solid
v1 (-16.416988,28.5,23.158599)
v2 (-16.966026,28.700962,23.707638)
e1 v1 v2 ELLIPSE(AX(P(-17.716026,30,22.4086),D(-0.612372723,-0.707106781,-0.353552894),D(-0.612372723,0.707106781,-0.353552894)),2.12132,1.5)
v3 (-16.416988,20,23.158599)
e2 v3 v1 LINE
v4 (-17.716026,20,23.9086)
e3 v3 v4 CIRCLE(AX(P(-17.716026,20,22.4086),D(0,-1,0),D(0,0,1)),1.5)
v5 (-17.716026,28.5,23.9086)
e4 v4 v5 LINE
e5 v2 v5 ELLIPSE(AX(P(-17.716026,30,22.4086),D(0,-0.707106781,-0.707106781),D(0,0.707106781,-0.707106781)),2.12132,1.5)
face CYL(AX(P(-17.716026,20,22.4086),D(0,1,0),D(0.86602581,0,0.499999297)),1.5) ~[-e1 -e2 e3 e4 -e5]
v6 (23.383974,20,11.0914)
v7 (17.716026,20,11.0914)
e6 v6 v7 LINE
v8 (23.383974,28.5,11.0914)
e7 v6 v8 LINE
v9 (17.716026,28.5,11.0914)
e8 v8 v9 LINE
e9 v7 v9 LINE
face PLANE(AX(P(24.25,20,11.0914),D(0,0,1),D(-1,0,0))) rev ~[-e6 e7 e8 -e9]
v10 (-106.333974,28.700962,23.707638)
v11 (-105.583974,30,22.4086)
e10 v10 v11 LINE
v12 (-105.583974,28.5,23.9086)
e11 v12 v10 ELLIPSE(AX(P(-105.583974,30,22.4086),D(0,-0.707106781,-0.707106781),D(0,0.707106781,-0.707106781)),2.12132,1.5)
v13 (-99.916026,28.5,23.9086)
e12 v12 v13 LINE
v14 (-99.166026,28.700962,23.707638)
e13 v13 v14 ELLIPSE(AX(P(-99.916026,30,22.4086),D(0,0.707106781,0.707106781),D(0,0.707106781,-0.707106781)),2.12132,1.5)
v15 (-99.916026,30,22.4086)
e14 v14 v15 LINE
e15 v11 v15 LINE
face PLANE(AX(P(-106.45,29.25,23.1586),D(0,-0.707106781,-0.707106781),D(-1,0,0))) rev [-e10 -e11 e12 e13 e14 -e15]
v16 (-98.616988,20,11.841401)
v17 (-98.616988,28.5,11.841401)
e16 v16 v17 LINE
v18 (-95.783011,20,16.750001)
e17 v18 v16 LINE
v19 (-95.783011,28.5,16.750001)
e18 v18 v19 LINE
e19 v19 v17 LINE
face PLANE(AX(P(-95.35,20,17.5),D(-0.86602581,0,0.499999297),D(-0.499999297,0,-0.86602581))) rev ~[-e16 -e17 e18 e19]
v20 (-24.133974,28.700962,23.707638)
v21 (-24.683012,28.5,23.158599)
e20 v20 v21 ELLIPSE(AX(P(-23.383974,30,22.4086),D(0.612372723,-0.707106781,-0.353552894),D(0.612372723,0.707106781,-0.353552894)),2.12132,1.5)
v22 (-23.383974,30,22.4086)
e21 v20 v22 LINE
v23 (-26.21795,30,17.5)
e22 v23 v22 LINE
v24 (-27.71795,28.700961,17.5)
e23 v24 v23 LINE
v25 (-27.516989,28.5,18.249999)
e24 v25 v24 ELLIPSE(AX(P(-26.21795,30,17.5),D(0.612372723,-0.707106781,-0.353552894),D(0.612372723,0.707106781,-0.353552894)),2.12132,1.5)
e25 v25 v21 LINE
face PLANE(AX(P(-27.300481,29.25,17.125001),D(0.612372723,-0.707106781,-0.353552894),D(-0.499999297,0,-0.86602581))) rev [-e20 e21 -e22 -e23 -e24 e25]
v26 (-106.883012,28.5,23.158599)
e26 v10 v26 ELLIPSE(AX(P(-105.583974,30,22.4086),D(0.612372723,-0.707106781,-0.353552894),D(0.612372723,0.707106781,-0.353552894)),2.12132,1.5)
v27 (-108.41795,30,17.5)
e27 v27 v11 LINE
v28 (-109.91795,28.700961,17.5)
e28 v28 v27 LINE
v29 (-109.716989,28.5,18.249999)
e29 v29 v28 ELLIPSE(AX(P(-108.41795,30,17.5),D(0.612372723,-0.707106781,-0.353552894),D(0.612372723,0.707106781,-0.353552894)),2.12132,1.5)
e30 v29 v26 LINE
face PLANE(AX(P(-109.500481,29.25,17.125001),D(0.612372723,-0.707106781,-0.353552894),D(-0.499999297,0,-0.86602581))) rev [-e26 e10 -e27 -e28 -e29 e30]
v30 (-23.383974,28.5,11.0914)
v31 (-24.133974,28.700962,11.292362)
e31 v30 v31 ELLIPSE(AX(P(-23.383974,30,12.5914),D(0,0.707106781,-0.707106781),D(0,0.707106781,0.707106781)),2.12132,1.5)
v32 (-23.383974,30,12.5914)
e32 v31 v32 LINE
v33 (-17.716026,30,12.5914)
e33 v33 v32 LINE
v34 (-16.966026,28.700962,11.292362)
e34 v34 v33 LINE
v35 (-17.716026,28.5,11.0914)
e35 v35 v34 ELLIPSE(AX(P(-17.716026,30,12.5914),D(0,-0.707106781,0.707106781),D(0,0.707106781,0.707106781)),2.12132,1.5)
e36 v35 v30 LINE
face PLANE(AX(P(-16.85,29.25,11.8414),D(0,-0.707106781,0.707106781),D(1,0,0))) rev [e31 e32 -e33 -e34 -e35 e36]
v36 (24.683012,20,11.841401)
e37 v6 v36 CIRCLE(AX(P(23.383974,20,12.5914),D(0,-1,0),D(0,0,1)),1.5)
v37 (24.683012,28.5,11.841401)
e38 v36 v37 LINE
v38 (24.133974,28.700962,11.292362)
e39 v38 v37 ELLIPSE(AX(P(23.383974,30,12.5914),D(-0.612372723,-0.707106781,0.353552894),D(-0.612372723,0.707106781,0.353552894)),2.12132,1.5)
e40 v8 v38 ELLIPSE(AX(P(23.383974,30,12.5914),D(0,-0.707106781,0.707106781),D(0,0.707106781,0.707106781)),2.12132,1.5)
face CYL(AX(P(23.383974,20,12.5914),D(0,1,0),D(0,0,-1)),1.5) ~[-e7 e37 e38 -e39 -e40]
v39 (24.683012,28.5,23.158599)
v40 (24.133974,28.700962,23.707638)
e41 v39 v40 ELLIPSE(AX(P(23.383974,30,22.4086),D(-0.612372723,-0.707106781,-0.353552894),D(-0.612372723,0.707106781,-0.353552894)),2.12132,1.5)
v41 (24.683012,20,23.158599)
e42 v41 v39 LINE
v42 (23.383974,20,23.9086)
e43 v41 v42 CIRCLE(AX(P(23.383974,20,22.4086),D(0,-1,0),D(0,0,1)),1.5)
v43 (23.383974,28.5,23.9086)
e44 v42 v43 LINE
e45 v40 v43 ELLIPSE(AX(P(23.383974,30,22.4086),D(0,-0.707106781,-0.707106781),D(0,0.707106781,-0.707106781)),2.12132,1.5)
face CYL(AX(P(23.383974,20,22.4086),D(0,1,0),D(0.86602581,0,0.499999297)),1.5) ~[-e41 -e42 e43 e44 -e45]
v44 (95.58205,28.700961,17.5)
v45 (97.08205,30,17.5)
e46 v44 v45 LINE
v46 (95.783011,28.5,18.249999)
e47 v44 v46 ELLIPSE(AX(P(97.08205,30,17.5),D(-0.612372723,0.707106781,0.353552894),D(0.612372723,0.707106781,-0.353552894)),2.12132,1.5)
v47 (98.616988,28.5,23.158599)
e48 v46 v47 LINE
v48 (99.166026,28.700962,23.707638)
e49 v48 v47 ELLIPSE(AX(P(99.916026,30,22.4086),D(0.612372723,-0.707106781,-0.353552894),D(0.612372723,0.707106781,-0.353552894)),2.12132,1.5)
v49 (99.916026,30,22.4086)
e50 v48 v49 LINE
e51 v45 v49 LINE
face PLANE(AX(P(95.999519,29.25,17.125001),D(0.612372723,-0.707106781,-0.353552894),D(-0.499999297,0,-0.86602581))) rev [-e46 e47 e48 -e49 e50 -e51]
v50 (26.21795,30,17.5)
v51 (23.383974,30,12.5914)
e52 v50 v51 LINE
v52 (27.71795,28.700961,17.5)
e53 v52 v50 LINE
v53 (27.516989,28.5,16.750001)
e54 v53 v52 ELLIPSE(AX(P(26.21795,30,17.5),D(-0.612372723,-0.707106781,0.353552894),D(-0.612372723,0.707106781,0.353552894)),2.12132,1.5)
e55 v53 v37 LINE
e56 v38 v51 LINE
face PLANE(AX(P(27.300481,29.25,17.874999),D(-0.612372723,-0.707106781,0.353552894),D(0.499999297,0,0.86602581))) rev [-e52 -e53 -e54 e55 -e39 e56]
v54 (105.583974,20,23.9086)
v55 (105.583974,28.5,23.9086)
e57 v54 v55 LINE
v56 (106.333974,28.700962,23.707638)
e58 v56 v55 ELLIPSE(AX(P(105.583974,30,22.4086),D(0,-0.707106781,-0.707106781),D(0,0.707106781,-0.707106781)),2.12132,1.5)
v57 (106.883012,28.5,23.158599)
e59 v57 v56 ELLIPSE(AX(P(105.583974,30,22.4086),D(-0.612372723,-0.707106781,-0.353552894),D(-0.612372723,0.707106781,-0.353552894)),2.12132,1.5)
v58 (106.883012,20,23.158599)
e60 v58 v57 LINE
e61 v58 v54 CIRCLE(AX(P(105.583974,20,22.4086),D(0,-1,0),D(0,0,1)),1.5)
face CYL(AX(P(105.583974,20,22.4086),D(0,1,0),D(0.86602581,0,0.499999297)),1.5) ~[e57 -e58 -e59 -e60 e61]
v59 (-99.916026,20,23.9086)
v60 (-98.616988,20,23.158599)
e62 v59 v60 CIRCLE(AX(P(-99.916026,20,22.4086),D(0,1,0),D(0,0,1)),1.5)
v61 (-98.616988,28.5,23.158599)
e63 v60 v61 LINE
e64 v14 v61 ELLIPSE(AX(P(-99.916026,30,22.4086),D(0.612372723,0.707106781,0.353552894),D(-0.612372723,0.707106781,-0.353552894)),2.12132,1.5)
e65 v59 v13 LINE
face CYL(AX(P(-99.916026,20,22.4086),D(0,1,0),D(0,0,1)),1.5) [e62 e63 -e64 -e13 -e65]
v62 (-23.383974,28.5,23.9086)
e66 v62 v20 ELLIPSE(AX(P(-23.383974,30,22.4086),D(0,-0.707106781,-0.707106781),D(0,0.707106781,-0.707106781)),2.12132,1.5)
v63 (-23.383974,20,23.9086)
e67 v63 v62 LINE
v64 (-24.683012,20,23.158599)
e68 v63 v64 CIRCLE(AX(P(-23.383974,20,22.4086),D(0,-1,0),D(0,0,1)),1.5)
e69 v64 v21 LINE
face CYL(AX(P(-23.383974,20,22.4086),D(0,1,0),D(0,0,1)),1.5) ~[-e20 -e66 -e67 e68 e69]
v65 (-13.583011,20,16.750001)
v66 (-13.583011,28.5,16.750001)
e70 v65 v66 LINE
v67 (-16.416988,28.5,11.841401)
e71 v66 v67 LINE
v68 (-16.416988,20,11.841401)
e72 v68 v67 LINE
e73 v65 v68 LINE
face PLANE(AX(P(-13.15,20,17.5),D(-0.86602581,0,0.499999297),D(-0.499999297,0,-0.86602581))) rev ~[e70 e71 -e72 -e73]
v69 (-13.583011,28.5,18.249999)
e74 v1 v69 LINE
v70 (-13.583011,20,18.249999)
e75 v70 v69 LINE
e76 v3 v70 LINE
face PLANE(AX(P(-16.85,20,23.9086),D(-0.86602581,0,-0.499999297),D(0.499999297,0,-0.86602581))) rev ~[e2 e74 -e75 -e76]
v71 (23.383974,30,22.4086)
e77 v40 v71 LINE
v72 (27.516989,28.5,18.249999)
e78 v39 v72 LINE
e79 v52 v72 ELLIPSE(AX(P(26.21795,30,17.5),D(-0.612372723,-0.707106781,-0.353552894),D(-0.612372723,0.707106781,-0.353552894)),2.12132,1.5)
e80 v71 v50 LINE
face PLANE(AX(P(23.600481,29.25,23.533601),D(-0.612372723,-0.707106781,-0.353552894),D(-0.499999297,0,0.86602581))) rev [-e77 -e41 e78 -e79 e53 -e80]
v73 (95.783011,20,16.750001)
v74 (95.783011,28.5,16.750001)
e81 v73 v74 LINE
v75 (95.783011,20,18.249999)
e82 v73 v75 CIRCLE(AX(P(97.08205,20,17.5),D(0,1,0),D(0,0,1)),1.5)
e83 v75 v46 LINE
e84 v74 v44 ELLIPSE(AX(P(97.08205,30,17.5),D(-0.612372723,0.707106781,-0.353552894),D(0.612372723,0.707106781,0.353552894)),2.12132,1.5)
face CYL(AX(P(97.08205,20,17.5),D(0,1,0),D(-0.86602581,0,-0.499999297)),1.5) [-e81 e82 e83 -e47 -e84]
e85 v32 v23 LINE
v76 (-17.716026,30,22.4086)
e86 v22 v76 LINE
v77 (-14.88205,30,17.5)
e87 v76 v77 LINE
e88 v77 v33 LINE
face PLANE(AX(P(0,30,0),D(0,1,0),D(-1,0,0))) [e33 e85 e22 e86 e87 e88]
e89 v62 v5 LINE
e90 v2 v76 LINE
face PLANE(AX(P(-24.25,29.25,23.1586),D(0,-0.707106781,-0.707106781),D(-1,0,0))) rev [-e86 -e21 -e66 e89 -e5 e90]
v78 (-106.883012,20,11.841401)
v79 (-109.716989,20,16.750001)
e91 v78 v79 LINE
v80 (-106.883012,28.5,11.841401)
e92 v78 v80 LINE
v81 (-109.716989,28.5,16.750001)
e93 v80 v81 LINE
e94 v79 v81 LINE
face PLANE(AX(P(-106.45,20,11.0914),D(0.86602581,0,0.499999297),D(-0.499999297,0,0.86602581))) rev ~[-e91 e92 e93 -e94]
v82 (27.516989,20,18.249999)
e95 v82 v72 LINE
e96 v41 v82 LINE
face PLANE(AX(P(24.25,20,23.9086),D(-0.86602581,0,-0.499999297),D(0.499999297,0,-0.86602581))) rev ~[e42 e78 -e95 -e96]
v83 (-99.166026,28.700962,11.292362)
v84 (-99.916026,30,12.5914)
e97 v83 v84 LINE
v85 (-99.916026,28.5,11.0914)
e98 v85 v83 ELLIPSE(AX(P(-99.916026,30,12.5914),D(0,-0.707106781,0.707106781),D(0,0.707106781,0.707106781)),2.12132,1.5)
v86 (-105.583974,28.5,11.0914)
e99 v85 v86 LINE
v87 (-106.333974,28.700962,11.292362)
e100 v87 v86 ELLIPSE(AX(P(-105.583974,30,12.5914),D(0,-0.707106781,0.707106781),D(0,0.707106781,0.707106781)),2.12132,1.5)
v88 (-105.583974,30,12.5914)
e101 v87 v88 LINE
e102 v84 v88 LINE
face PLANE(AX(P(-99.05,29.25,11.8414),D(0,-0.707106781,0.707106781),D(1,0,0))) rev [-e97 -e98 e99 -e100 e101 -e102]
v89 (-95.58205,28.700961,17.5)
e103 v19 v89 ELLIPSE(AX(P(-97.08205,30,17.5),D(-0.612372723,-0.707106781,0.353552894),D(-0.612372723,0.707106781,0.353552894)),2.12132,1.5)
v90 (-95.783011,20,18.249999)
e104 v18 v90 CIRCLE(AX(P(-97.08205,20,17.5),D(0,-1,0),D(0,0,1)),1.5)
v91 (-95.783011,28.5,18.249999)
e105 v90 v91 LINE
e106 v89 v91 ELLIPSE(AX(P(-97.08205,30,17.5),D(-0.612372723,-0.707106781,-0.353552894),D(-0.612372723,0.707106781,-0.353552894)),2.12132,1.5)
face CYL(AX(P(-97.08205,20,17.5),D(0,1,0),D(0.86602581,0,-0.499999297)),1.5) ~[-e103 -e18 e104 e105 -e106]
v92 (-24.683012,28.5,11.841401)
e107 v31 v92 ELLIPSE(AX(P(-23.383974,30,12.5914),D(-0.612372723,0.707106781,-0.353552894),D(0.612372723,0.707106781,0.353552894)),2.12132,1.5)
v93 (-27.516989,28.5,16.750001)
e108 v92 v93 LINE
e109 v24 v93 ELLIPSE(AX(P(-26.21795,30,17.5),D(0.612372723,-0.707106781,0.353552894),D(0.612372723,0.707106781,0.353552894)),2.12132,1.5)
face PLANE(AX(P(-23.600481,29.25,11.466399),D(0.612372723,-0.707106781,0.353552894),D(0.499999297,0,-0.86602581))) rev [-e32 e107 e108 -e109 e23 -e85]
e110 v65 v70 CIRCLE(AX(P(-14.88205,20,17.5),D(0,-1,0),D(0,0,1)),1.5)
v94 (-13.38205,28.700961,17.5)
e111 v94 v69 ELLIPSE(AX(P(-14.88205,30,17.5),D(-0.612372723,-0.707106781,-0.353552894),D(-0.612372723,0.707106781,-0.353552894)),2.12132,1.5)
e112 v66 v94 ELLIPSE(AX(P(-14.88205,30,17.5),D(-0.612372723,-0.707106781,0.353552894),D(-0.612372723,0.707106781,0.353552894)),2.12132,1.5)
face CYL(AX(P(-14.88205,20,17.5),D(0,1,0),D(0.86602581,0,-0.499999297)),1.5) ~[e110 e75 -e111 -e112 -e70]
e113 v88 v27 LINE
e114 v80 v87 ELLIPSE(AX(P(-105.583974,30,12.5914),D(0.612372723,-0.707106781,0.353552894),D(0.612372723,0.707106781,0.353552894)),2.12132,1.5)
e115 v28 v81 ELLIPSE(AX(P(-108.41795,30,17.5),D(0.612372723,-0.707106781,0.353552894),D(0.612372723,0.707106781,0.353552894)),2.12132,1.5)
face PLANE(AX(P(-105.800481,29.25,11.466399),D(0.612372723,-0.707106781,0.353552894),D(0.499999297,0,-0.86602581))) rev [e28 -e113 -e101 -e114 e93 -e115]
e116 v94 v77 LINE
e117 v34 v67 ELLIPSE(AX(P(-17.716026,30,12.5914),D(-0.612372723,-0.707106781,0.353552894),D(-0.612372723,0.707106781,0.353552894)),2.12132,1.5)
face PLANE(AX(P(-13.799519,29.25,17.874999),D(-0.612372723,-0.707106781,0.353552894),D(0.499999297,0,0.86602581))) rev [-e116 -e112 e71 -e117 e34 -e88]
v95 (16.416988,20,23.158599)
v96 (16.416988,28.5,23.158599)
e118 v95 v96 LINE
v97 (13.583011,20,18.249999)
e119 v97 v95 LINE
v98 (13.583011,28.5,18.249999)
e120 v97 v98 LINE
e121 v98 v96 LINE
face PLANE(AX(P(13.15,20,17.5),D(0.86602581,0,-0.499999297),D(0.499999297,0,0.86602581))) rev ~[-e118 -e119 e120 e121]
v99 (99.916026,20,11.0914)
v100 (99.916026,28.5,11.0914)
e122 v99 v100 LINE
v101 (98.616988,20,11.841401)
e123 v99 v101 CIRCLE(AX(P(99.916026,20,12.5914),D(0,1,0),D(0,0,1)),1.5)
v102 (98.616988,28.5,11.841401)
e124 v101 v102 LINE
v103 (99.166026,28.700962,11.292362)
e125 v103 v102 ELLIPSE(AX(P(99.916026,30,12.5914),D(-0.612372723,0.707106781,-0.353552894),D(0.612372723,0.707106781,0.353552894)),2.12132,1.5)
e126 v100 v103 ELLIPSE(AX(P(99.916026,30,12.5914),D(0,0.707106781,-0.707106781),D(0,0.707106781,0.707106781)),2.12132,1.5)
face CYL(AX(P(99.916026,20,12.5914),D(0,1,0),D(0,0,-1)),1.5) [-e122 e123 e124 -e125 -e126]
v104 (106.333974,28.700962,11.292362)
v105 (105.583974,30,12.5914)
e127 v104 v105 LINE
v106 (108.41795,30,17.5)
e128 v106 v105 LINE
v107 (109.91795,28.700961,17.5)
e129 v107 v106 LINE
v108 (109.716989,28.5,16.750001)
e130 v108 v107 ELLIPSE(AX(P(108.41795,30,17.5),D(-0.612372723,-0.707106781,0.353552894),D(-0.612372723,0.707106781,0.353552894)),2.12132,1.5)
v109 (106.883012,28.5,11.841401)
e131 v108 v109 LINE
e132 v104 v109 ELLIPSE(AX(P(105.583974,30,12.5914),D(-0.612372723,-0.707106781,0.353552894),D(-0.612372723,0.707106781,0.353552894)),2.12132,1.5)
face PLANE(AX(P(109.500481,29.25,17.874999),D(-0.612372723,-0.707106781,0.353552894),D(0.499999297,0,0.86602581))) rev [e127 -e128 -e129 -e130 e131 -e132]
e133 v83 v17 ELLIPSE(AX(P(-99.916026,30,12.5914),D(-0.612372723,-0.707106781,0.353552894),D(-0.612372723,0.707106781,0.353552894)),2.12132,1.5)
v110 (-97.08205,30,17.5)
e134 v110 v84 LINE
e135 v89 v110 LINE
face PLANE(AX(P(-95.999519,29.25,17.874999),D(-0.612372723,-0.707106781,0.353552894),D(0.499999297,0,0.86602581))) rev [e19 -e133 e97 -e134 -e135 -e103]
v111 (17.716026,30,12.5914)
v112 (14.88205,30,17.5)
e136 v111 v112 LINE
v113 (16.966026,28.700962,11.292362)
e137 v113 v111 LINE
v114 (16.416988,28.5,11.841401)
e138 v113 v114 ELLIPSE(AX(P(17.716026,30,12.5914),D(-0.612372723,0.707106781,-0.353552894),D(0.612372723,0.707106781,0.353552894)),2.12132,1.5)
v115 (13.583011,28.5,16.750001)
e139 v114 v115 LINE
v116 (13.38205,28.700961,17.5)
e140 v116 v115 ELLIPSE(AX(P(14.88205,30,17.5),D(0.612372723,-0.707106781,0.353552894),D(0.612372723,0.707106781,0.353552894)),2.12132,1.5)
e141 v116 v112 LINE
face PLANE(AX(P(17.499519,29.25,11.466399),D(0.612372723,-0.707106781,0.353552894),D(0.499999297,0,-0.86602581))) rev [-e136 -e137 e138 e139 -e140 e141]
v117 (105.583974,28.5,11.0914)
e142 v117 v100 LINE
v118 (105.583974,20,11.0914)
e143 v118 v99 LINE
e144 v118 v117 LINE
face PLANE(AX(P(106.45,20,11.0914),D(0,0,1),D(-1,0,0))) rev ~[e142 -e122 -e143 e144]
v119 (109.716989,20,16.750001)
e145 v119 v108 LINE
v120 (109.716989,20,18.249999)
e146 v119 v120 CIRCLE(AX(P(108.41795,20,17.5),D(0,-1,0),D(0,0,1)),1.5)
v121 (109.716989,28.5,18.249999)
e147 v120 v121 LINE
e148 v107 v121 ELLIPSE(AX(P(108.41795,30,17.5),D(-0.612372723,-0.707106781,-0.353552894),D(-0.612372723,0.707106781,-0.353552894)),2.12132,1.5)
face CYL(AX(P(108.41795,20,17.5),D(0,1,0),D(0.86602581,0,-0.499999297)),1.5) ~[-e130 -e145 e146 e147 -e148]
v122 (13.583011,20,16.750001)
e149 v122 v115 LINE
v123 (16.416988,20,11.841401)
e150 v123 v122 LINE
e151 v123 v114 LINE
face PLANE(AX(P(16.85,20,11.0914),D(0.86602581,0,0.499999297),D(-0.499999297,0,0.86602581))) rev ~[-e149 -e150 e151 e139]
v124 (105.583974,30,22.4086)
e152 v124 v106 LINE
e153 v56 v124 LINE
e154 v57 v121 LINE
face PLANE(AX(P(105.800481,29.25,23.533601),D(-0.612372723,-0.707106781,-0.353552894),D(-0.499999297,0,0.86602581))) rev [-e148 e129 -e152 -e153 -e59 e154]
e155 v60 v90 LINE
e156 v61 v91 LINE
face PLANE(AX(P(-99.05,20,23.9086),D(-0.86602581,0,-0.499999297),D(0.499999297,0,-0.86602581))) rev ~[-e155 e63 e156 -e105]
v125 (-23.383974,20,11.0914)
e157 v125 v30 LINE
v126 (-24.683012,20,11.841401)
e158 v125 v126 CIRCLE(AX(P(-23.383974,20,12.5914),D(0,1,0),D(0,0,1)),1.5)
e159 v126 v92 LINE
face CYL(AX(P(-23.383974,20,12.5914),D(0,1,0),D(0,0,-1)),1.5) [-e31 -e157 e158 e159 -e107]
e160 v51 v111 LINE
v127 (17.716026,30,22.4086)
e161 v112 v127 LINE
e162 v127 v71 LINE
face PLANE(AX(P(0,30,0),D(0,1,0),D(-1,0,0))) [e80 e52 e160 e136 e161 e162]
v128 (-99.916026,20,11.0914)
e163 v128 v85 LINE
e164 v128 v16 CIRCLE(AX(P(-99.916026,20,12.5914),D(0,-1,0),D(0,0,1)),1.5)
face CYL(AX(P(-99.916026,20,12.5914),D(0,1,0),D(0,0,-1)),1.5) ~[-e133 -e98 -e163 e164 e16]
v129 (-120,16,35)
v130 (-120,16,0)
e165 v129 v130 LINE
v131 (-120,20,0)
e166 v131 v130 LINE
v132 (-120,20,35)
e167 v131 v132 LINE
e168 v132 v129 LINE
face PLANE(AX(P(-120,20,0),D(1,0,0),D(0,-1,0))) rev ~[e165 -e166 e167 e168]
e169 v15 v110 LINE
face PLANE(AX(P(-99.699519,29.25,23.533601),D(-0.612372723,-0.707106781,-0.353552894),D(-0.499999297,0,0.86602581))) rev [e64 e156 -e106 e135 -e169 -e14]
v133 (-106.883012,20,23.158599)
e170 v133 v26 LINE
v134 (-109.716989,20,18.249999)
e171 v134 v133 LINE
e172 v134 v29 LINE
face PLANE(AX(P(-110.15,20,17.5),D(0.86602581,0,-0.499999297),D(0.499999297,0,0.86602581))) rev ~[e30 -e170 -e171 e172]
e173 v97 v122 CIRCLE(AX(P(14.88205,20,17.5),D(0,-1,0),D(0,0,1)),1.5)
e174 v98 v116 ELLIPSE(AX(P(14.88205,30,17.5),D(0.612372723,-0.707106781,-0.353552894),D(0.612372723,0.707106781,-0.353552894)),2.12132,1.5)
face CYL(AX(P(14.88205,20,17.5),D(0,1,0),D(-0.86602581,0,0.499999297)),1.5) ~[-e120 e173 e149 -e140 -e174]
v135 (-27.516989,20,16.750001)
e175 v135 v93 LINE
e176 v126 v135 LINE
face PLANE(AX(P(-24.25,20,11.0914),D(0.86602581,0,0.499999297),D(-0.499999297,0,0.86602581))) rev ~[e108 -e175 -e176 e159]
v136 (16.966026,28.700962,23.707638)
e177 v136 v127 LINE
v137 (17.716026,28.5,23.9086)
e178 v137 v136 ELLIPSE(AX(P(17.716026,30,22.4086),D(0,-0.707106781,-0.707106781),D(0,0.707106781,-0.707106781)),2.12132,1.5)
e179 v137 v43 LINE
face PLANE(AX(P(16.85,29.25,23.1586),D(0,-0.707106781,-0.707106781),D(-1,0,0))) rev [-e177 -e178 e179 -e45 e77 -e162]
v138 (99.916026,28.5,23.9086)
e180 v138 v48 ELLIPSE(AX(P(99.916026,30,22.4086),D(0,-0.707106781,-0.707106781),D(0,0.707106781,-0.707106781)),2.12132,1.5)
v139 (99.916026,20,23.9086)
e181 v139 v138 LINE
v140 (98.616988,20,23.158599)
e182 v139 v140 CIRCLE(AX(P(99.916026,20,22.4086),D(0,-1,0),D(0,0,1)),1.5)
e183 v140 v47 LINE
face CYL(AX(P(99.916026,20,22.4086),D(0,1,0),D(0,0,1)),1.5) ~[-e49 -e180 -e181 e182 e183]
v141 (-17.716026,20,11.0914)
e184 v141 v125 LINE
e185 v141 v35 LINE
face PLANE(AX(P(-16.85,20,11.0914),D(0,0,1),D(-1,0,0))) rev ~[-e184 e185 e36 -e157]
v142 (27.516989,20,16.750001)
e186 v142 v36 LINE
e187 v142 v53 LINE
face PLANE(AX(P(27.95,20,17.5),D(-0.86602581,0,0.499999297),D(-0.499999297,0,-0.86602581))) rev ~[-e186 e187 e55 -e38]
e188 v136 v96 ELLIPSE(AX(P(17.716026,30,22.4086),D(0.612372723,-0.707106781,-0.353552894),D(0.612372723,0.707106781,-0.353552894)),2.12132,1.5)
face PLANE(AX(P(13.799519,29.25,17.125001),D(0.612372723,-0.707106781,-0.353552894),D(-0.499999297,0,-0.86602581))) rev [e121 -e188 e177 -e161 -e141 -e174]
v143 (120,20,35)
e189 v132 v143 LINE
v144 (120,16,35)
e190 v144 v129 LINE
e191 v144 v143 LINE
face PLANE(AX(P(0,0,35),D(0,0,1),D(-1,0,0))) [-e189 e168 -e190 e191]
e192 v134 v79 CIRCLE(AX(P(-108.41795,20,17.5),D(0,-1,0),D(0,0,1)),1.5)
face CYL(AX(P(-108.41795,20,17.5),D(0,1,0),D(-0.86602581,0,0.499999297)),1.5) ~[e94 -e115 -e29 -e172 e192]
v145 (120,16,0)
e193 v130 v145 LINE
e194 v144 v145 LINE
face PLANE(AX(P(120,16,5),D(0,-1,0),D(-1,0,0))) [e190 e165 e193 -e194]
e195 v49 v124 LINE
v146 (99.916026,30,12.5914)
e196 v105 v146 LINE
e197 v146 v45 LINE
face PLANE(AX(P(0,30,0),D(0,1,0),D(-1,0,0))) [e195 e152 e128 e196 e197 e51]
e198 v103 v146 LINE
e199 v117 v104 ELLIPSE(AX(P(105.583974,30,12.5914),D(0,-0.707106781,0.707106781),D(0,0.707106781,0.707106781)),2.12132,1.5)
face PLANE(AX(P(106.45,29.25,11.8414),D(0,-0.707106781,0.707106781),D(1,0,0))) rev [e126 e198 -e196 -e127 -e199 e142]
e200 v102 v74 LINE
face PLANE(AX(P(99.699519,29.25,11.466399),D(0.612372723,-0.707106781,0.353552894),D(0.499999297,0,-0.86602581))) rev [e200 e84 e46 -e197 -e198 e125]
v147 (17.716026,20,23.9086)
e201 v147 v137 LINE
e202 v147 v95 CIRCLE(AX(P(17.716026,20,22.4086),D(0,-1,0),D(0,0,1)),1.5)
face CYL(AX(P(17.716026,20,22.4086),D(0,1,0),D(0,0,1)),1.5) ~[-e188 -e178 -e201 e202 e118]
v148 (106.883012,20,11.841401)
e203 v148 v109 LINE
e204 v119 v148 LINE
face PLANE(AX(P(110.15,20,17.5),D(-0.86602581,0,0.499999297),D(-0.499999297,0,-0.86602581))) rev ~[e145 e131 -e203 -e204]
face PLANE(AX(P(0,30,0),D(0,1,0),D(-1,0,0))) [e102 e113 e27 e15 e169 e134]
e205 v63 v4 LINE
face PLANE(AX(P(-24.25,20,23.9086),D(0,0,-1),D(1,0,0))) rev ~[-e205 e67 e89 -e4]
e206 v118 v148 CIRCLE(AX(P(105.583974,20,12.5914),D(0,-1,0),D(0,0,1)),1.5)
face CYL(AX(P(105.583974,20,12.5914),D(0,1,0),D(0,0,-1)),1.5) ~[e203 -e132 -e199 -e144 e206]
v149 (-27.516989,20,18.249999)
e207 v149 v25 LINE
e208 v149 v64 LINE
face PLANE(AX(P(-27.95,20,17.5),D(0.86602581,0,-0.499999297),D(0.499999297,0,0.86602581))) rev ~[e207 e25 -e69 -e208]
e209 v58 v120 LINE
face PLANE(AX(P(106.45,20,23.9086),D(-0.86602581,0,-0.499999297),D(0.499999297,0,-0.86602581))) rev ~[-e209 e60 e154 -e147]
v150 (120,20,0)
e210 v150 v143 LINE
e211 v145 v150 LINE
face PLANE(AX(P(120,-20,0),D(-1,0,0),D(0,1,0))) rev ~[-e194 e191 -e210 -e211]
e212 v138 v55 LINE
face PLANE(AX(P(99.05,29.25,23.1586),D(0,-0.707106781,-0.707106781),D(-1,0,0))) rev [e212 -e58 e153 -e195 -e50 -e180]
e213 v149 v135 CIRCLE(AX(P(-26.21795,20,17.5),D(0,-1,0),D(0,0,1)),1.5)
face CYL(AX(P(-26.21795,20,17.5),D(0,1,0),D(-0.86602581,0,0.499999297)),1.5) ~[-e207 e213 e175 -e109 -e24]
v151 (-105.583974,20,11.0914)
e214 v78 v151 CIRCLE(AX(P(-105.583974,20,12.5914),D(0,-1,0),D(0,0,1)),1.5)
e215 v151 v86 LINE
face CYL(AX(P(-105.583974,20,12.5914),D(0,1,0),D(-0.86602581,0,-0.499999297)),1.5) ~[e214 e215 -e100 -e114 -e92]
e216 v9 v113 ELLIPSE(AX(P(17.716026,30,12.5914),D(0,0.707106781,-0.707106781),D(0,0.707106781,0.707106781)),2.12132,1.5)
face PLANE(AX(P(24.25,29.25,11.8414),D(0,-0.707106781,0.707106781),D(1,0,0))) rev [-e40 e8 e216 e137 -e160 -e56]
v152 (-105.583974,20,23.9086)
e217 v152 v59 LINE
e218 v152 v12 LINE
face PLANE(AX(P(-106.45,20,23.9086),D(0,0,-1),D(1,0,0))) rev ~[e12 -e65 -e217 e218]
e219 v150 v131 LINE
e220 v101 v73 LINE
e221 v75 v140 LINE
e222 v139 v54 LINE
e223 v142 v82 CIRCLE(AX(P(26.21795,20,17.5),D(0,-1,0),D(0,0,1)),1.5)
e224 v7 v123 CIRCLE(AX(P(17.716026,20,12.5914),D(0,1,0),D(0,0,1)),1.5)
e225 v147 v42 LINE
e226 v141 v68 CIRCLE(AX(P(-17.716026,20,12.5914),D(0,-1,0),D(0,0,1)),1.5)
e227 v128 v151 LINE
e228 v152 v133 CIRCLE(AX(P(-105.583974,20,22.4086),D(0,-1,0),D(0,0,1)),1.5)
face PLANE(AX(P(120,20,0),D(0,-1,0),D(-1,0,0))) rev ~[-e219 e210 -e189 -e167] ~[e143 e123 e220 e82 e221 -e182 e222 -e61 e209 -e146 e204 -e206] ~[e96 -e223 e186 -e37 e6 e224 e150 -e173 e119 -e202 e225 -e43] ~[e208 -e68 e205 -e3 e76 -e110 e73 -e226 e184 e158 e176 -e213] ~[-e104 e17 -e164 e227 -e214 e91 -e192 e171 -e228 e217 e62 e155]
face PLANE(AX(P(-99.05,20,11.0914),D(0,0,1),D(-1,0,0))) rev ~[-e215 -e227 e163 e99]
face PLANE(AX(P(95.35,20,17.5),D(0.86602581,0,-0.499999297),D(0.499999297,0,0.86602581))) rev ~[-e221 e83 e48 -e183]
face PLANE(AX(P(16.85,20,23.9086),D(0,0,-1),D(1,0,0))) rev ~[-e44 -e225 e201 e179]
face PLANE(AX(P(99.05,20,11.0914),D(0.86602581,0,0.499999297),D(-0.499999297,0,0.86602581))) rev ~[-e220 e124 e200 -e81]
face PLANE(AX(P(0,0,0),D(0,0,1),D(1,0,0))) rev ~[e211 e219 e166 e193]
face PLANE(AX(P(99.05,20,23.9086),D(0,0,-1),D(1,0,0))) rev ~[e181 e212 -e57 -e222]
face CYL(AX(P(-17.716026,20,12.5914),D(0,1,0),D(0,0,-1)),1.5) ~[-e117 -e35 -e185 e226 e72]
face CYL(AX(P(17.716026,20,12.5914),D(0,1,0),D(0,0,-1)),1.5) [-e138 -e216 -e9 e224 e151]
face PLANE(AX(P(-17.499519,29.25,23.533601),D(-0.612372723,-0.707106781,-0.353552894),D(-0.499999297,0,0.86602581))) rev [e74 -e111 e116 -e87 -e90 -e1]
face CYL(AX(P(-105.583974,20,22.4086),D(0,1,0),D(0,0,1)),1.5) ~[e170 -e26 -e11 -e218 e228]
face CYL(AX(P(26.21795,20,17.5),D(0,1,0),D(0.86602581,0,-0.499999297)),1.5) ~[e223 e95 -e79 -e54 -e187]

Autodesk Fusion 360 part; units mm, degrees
sketch "Sketch1" plane through (0, 0, 0) normal (0, 0, 1) x (1, 0, 0)
  line L0 (120, 20) -> (-120, 20)
  line L1 (-120, 20) -> (-120, -20)
  line L2 (-120, -20) -> (120, -20)
  line L3 (120, -20) -> (120, 20)
  line L4 (120, 20) -> (-120, -20) construction
  line L5 (-120, 20) -> (120, -20) construction
  dimension "d1" = 240
  dimension "d2" = 40
extrude "Extrude1" add sketch "Sketch1" along normal blind 5
sketch "Sketch2" plane through (0, 0, 5) normal (0, 0, 1) x (-1, 0, 0)
  line L0 (-120, 20) -> (-120, -20)
  line L1 (120, -20) -> (120, 20)
  line L2 (120, 20) -> (-120, 20)
  line L3 (120, -20) -> (-120, -20)
  line L4 (-120, -20) -> (-120, -16)
  line L5 (-120, -16) -> (120, -16)
  line L6 (120, -16) -> (120, -20)
  line L7 (-120, -20) -> (120, -20)
  dimension "d7" = 4
extrude "Extrude3" add sketch "Sketch2" along normal blind 30 contours L0 L1 L3 L4 L5 L6 L7
sketch "Sketch3" plane through (0, 20, 0) normal (0, 1, 0) x (-1, 0, 0)
  line L0 (-120, 0) -> (120, 0)
  line L1 (120, 0) -> (120, 35)
  line L2 (120, 35) -> (-120, 35)
  line L3 (-120, 35) -> (-120, 0)
  line L4 (0, 35) -> (0, 0) construction
  line L5 (20.55, 35) -> (20.55, 0) construction
  line L6 (61.65, 35) -> (61.65, 0) construction
  line L7 (102.75, 35) -> (102.75, 0) construction
  line L8 (-20.55, 35) -> (-20.55, 0) construction
  line L9 (-61.65, 35) -> (-61.65, 0) construction
  line L10 (-102.75, 35) -> (-102.75, 0) construction
  line L11 (120, 17.5) -> (-120, 17.5) construction
  line L12 (27.95, 17.5) -> (24.25, 23.9086)
  line L13 (24.25, 23.9086) -> (16.85, 23.9086)
  line L14 (16.85, 23.9086) -> (13.15, 17.5)
  line L15 (13.15, 17.5) -> (16.85, 11.0914)
  line L16 (16.85, 11.0914) -> (24.25, 11.0914)
  line L17 (24.25, 11.0914) -> (27.95, 17.5)
  line L18 (-13.15, 17.5) -> (-16.85, 23.9086)
  line L19 (-16.85, 23.9086) -> (-24.25, 23.9086)
  line L20 (-24.25, 23.9086) -> (-27.95, 17.5)
  line L21 (-27.95, 17.5) -> (-24.25, 11.0914)
  line L22 (-24.25, 11.0914) -> (-16.85, 11.0914)
  line L23 (-16.85, 11.0914) -> (-13.15, 17.5)
  line L24 (-95.35, 17.5) -> (-99.05, 23.9086)
  line L25 (-99.05, 23.9086) -> (-106.45, 23.9086)
  line L26 (-106.45, 23.9086) -> (-110.15, 17.5)
  line L27 (-110.15, 17.5) -> (-106.45, 11.0914)
  line L28 (-106.45, 11.0914) -> (-99.05, 11.0914)
  line L29 (-99.05, 11.0914) -> (-95.35, 17.5)
  line L30 (95.35, 17.5) -> (99.05, 11.0914)
  line L31 (99.05, 11.0914) -> (106.45, 11.0914)
  line L32 (106.45, 11.0914) -> (110.15, 17.5)
  line L33 (110.15, 17.5) -> (106.45, 23.9086)
  line L34 (106.45, 23.9086) -> (99.05, 23.9086)
  line L35 (99.05, 23.9086) -> (95.35, 17.5)
  point P0 (20.55, 17.5)
  point P1 (-20.55, 17.5)
  point P2 (-102.75, 17.5)
  point P3 (102.75, 17.5)
  dimension "d10" = 20.55
  dimension "d11" = 41.1
  dimension "d12" = 41.1
  dimension "d13" = 41.1
  dimension "d14" = 41.1
  dimension "d15" = 20.55
  dimension "d16" = 7.4
  dimension "d17" = 7.4
  dimension "d18" = 7.4
  dimension "d19" = 7.4
extrude "Extrude4" add sketch "Sketch3" along normal blind 10 contours L12 L13 L14 L15 L16 L17 | L18 L19 L20 L21 L22 L23 | L24 L25 L26 L27 L28 L29 | L30 L31 L32 L33 L34 L35
extrude "Extrude8" cut 1 faces at (-40, -20, 1.6667) along direction (0, 1, 0) up to surface (36 mm away)
chamfer "Chamfer15" distance 1.5 angle 45 24 edges at (102.75, 30, 23.9086) (108.3, 30, 20.7043) (108.3, 30, 14.2957) (97.2, 30, 20.7043) (97.2, 30, 14.2957) (102.75, 30, 11.0914) (20.55, 30, 23.9086) (26.1, 30, 20.7043) (26.1, 30, 14.2957) (15, 30, 20.7043) (15, 30, 14.2957) (20.55, 30, 11.0914) (-20.55, 30, 23.9086) (-15, 30, 20.7043) (-15, 30, 14.2957) (-26.1, 30, 20.7043) (-26.1, 30, 14.2957) (-20.55, 30, 11.0914) (-102.75, 30, 23.9086) (-97.2, 30, 20.7043) (-97.2, 30, 14.2957) (-108.3, 30, 20.7043) (-108.3, 30, 14.2957) (-102.75, 30, 11.0914)
fillet "Fillet3" radius 1.5 24 edges at (99.05, 24.25, 23.9086) (110.15, 24.25, 17.5) (106.45, 24.25, 23.9086) (106.45, 24.25, 11.0914) (16.85, 24.25, 23.9086) (24.25, 24.25, 23.9086) (27.95, 24.25, 17.5) (24.25, 24.25, 11.0914) (-24.25, 24.25, 23.9086) (-16.85, 24.25, 23.9086) (-13.15, 24.25, 17.5) (-16.85, 24.25, 11.0914) (-106.45, 24.25, 23.9086) (-99.05, 24.25, 23.9086) (-95.35, 24.25, 17.5) (-99.05, 24.25, 11.0914) (-110.15, 24.25, 17.5) (-106.45, 24.25, 11.0914) (-27.95, 24.25, 17.5) (-24.25, 24.25, 11.0914) (13.15, 24.25, 17.5) (16.85, 24.25, 11.0914) (95.35, 24.25, 17.5) (99.05, 24.25, 11.0914)
equation "d22 = ( 240 / 6 ) * 1 mm"
equation "d60 = ( 80.8 / 3 ) * 1 mm"
equation "d61 = ( 80.8 / 3 ) * 1 mm"
equation "d64 = ( 26.933 / 2 ) * 1 mm"
equation "d65 = ( 26.933 / 2 ) * 1 mm"
equation "d73 = ( 80.8 / 3 ) * 1 mm"
equation "d74 = ( 80.8 / 3 ) * 1 mm"
equation "d77 = ( 26.933 / 2 ) * 1 mm"
equation "d81 = ( 17.5 / 2 ) * 1 mm"
